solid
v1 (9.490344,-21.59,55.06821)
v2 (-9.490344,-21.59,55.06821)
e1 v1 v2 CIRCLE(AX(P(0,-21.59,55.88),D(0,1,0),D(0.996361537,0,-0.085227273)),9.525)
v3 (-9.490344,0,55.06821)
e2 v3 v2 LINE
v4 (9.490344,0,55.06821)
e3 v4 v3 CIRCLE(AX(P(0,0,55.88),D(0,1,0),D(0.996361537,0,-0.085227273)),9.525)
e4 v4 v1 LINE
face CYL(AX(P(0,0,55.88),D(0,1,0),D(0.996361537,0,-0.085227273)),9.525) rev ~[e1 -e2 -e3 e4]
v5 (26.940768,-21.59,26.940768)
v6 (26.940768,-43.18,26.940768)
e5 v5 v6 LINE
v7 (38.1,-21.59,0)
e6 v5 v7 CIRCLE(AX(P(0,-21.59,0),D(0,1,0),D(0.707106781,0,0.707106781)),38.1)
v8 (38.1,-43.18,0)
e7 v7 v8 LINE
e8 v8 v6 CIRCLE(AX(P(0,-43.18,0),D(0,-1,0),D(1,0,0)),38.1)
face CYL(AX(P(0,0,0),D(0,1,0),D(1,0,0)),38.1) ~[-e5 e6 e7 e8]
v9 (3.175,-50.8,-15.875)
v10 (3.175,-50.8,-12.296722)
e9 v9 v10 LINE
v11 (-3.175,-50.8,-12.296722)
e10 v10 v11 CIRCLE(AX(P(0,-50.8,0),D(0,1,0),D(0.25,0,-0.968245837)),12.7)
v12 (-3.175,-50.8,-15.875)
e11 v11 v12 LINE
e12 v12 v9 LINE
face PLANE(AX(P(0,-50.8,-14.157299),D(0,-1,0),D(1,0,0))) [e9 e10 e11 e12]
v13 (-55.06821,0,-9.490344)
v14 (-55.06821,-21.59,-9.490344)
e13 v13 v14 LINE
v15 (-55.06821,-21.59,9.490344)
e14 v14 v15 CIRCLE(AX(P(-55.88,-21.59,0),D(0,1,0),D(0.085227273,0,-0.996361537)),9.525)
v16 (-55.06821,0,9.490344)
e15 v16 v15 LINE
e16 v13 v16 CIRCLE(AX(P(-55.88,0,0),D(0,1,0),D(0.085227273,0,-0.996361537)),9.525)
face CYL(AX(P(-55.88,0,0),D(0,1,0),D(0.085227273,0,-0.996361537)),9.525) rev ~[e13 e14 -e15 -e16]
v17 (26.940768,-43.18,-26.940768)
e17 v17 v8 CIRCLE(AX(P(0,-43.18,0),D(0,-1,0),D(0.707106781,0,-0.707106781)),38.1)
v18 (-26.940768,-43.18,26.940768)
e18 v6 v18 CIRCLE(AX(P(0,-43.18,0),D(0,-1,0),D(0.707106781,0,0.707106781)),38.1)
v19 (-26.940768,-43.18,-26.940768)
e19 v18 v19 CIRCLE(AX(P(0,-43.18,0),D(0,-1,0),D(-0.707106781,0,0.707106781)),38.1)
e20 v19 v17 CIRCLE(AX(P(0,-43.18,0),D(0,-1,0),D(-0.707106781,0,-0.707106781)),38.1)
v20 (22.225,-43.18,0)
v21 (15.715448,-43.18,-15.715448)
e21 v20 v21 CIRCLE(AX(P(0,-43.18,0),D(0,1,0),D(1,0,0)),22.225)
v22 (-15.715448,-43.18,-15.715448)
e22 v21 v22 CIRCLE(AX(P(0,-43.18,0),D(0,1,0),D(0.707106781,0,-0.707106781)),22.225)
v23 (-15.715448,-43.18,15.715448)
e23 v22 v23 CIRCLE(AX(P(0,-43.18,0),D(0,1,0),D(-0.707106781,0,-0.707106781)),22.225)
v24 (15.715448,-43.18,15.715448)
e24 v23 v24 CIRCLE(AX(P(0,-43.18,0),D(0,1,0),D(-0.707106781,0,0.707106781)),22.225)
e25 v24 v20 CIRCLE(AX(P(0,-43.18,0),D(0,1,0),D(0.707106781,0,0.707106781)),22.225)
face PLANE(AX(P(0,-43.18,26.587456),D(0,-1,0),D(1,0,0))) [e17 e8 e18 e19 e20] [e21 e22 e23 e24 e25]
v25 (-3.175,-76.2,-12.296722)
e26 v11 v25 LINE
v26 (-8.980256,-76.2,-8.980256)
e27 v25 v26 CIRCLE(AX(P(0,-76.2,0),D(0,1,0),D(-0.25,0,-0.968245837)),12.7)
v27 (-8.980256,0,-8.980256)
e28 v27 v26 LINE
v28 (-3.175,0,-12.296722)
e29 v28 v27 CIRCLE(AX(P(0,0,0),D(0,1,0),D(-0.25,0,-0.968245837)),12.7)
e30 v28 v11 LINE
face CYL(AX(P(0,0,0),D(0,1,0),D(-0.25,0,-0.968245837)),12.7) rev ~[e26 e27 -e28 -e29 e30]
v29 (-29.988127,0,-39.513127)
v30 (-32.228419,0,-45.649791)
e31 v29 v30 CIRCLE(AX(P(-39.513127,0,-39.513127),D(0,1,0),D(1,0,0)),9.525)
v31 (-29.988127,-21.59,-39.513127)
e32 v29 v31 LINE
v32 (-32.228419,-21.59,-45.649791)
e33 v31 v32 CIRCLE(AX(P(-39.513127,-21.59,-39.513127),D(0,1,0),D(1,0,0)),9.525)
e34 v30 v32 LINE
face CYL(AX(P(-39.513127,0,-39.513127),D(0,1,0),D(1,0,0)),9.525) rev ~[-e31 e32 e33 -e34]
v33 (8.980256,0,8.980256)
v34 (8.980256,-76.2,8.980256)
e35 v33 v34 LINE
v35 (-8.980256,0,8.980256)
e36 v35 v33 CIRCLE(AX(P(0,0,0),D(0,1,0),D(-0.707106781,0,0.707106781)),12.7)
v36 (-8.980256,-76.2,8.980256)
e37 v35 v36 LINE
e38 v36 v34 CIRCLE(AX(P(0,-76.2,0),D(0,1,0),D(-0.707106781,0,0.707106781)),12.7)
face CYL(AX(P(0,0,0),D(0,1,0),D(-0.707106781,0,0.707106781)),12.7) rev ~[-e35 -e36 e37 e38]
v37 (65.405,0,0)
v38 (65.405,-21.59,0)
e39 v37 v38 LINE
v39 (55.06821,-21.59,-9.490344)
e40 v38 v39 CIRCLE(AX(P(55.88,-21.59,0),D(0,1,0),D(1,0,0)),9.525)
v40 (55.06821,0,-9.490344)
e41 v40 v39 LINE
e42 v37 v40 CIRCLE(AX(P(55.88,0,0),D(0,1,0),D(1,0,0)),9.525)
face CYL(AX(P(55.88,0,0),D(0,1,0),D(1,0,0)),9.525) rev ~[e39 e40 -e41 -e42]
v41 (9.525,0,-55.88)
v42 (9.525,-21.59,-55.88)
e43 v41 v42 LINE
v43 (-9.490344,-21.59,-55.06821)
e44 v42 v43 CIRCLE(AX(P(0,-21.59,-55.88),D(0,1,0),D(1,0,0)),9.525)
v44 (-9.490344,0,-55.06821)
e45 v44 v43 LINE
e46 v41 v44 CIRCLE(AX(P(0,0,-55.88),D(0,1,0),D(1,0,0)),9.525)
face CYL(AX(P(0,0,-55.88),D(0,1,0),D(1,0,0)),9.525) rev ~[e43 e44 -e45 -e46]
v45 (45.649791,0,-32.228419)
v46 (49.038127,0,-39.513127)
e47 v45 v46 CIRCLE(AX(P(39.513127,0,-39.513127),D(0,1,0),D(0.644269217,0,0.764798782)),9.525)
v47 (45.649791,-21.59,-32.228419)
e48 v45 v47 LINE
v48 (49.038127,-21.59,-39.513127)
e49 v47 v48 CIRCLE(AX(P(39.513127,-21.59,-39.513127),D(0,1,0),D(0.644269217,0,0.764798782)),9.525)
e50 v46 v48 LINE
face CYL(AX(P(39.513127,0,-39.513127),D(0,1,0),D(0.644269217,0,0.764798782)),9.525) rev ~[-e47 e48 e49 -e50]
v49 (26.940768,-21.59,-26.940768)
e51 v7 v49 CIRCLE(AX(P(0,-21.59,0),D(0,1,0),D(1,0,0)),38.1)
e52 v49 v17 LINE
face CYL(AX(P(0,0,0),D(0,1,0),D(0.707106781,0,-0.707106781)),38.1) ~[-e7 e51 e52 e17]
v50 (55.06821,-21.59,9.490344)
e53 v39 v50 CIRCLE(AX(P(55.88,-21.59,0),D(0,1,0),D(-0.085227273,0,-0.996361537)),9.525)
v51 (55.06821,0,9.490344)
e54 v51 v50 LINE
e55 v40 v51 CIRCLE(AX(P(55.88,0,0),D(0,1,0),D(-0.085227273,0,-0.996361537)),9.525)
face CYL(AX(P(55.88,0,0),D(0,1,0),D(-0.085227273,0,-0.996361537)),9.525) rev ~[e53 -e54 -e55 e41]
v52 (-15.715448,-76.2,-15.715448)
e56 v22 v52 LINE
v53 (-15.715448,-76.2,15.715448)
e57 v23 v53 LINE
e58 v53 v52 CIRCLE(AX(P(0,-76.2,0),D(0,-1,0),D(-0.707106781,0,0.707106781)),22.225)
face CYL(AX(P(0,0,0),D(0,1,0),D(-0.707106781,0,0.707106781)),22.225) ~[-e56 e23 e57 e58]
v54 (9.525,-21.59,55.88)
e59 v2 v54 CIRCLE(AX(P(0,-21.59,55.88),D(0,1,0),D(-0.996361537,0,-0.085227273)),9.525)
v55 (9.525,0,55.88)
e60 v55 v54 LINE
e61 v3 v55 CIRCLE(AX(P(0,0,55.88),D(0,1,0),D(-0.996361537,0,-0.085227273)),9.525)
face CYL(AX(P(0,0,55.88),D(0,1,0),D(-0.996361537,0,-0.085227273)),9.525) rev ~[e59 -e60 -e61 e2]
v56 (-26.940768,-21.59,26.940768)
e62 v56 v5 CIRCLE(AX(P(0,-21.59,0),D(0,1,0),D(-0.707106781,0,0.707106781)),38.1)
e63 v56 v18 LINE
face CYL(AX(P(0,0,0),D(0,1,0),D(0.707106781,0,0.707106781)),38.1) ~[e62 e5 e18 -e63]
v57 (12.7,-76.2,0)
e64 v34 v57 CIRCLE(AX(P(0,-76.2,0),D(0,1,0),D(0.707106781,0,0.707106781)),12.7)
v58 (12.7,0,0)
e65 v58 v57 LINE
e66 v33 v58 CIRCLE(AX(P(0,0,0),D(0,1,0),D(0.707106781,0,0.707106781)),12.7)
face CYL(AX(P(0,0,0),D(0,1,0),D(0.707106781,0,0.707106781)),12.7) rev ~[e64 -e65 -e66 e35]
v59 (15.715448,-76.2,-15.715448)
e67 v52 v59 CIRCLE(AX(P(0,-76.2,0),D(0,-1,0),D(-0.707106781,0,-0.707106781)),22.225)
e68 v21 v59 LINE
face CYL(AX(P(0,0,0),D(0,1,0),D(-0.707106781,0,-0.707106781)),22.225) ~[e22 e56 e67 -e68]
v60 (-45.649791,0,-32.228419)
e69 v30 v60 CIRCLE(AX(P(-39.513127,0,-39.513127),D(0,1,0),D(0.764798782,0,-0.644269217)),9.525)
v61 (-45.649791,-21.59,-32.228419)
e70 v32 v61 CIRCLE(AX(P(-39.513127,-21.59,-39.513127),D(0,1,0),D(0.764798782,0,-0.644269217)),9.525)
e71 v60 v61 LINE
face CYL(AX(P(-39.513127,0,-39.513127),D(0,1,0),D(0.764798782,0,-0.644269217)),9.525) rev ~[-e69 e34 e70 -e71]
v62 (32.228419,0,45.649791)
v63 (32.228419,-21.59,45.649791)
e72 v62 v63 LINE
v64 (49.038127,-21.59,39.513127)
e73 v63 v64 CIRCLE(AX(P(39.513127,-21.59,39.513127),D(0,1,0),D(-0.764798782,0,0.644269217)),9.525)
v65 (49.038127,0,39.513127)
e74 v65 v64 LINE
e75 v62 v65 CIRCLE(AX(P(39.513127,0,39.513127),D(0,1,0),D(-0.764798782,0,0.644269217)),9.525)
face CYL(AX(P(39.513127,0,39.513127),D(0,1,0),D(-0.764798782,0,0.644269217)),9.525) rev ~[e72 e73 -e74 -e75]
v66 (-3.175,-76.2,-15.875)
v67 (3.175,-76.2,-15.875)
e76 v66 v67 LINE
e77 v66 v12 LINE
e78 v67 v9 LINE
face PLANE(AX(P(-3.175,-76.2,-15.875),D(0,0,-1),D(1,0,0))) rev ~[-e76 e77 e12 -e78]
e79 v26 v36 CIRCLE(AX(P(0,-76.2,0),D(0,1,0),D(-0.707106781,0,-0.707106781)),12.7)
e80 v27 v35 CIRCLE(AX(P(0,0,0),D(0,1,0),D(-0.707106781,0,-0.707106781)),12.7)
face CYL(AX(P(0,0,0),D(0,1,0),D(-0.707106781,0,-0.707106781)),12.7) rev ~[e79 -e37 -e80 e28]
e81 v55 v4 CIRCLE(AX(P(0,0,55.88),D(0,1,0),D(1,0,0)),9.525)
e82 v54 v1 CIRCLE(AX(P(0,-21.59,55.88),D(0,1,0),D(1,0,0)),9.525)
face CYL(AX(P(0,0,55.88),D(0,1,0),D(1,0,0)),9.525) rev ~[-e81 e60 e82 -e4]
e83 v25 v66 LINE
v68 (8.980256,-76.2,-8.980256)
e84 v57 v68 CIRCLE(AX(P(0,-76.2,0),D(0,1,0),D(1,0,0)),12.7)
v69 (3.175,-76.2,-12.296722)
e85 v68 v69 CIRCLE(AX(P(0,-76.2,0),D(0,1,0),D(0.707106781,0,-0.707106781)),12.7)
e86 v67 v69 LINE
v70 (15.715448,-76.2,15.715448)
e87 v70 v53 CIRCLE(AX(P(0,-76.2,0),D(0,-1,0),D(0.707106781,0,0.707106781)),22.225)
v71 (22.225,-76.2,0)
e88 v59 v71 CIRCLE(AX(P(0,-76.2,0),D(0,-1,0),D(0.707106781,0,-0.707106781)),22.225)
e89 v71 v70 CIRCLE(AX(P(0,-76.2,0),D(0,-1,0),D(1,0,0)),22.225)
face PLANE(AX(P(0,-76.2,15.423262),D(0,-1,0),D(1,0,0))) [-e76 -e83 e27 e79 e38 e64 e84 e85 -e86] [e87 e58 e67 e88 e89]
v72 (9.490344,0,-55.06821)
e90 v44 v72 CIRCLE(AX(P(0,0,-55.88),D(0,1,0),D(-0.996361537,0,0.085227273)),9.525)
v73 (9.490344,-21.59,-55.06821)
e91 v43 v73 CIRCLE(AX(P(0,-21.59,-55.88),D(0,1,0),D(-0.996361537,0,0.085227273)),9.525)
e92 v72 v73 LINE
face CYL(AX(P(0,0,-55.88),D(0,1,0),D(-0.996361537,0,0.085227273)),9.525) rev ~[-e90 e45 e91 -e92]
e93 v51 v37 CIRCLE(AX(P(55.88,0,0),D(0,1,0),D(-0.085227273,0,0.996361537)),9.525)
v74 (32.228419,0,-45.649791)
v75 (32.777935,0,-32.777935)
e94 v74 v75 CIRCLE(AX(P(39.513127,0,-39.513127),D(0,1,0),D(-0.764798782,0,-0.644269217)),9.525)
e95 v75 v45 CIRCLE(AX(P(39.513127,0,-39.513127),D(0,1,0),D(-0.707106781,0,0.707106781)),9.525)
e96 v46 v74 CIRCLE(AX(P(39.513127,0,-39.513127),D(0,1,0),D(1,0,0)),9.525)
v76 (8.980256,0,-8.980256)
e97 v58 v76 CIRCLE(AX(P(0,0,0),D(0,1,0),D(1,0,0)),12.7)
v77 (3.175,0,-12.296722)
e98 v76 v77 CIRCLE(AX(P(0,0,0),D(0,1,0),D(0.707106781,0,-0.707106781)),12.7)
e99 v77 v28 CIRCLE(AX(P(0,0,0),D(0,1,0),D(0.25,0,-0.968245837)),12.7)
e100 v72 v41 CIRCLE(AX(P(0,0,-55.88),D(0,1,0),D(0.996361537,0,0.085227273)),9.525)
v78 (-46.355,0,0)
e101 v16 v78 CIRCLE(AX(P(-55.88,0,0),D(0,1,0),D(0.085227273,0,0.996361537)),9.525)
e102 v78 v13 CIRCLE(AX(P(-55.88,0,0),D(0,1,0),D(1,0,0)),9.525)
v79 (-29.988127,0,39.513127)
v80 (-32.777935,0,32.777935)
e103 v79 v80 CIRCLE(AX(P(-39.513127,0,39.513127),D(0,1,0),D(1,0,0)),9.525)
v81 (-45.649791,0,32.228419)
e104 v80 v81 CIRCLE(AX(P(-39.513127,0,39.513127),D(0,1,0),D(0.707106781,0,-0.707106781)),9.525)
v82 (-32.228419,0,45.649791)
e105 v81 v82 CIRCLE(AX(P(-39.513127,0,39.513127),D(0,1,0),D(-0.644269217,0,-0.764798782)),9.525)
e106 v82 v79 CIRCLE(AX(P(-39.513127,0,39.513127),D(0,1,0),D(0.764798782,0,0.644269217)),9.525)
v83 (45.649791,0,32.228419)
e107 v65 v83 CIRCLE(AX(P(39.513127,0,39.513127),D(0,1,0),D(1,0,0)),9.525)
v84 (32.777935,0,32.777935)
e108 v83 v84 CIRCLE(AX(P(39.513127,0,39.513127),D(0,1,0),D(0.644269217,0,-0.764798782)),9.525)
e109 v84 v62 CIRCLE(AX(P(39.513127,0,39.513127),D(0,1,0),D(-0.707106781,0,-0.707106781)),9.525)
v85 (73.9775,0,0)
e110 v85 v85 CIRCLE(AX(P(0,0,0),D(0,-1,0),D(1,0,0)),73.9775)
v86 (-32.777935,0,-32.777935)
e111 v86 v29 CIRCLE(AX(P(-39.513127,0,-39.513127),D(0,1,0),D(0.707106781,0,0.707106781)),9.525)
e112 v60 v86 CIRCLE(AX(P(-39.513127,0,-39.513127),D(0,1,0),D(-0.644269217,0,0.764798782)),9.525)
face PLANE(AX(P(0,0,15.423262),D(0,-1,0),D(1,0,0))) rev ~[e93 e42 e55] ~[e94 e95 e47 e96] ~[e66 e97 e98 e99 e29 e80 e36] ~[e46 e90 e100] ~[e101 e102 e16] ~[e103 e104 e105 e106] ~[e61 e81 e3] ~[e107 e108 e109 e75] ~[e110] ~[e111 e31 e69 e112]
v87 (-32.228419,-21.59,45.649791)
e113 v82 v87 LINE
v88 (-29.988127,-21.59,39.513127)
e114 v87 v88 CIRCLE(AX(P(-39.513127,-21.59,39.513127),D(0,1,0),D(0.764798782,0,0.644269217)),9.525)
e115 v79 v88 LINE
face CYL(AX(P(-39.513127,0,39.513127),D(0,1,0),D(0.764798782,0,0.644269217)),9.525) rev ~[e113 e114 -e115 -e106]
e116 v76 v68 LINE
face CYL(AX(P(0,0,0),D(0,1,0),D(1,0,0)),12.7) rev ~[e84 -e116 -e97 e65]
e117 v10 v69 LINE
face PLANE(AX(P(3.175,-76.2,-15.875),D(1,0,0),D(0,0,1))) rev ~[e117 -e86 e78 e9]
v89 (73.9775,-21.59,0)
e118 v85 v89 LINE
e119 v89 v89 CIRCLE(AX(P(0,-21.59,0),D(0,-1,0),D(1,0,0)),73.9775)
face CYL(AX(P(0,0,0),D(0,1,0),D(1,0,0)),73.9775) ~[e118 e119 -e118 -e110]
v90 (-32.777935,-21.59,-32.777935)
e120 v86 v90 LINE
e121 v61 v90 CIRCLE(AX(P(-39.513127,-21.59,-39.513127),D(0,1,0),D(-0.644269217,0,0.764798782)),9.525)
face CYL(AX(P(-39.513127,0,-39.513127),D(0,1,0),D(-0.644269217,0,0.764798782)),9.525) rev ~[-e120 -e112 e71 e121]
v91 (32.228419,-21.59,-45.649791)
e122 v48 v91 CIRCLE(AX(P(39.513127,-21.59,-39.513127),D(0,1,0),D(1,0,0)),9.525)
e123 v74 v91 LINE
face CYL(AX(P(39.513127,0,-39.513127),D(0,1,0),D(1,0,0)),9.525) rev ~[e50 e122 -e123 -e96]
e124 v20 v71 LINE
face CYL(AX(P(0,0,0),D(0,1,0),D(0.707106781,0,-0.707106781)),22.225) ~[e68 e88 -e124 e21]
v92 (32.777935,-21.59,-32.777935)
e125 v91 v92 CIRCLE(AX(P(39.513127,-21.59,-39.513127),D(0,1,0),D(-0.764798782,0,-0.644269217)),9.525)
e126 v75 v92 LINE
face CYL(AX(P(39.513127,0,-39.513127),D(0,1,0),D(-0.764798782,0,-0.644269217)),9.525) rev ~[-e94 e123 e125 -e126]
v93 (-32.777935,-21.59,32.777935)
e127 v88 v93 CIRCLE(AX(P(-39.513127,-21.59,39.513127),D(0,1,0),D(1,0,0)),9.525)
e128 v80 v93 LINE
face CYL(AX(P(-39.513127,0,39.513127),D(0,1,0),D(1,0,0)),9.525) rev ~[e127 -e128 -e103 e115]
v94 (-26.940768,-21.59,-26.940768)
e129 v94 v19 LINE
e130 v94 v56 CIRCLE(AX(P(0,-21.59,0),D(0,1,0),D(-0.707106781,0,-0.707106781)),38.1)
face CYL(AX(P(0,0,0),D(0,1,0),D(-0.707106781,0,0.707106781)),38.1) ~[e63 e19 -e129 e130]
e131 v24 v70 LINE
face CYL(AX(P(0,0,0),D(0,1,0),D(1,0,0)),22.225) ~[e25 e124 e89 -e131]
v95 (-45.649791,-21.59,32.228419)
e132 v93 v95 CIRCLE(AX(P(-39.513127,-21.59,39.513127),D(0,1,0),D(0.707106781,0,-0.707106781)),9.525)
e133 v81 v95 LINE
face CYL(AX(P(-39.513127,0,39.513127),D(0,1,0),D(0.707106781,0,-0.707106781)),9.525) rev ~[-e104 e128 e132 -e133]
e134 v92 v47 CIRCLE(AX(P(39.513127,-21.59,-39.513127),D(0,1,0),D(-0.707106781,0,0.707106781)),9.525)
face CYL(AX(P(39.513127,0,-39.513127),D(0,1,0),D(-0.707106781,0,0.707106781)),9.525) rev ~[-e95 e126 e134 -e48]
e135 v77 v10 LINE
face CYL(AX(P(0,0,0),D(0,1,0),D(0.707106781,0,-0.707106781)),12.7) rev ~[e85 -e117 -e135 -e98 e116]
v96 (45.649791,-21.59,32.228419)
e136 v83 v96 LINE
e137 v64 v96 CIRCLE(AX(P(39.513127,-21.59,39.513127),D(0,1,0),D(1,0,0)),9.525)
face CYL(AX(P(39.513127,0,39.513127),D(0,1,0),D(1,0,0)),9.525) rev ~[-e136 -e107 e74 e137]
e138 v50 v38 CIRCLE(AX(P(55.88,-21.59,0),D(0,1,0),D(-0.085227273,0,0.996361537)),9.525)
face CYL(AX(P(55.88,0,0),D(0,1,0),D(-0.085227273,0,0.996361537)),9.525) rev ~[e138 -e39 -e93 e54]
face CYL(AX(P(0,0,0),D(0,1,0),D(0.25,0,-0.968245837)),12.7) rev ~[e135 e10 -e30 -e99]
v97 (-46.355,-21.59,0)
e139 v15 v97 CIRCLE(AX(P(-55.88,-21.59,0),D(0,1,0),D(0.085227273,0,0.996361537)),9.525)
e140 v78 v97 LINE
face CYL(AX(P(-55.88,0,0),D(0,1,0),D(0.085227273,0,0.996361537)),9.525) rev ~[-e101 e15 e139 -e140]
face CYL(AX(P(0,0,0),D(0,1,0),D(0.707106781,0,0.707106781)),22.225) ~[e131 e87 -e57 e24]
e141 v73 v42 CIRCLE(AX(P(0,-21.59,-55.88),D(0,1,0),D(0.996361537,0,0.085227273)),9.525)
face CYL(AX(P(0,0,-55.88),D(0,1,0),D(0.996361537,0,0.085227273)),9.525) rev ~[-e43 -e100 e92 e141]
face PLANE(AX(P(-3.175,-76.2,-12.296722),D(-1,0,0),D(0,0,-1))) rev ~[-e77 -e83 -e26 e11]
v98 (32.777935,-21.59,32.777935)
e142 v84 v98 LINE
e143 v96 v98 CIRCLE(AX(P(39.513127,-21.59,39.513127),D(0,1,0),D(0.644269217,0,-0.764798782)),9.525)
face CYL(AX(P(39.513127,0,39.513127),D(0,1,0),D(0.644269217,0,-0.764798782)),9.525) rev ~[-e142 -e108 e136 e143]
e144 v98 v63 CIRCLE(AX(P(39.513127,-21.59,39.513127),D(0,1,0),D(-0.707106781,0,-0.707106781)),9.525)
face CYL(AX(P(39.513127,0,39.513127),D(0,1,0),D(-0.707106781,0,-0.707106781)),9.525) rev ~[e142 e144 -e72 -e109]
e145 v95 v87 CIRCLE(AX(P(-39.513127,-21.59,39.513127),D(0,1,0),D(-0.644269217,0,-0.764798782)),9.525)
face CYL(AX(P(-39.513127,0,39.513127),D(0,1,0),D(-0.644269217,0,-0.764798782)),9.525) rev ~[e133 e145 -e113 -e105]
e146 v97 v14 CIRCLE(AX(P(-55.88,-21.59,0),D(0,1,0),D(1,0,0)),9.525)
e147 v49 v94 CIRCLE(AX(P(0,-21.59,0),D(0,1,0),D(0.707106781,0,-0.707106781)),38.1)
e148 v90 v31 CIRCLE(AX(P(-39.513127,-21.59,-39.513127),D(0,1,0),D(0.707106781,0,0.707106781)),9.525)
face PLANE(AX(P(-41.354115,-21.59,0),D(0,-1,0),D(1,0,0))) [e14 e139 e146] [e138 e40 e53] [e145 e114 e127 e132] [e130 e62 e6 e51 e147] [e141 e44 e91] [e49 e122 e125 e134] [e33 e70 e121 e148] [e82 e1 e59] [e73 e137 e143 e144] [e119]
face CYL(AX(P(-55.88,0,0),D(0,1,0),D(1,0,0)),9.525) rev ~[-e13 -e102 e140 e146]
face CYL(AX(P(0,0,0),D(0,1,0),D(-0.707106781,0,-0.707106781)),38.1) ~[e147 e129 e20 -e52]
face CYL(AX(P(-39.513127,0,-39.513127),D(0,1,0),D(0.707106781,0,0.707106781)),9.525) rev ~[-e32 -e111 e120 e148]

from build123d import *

# Parameters (mm, degrees)
F0_R     = 73.9775
F1_DEPTH = 21.59
F2_DEPTH = 21.59
F3_DEPTH = 43.18
F4_DEPTH = 76.2
F6_DEPTH = 25.4


with BuildPart() as f1:
    # F0 (on Front) → F1 (new body)
    with BuildSketch(Plane.XZ):
        Circle(F0_R)
        with BuildLine():
            ThreePointArc((9.4903436379, 55.0682102273), (21.3843502006, 51.6263882767), (32.2284185374, 45.6497912216))
            ThreePointArc((32.2284185374, 45.6497912216), (42.7795299647, 48.4605419914), (49.0381269327, 39.5131269327))
            ThreePointArc((49.0381269327, 39.5131269327), (48.1496005288, 35.4960448046), (45.6497912216, 32.2284185374))
            ThreePointArc((45.6497912216, 32.2284185374), (51.6263882767, 21.3843502006), (55.0682102273, 9.4903436379))
            ThreePointArc((55.0682102273, 9.4903436379), (62.3217904116, 7.0163353179), (65.405, 0))
            ThreePointArc((65.405, 0), (62.3217904116, -7.0163353179), (55.0682102273, -9.4903436379))
            ThreePointArc((55.0682102273, -9.4903436379), (51.6263882767, -21.3843502006), (45.6497912216, -32.2284185374))
            ThreePointArc((45.6497912216, -32.2284185374), (48.1496005288, -35.4960448046), (49.0381269327, -39.5131269327))
            ThreePointArc((49.0381269327, -39.5131269327), (42.7795299647, -48.4605419914), (32.2284185374, -45.6497912216))
            ThreePointArc((32.2284185374, -45.6497912216), (21.3843502006, -51.6263882767), (9.4903436379, -55.0682102273))
            ThreePointArc((9.4903436379, -55.0682102273), (9.5163319654, -55.4737354007), (9.525, -55.88))
            ThreePointArc((9.525, -55.88), (-0.4062645993, -65.3963319654), (-9.4903436379, -55.0682102273))
            ThreePointArc((-9.4903436379, -55.0682102273), (-21.3843502006, -51.6263882767), (-32.2284185374, -45.6497912216))
            ThreePointArc((-32.2284185374, -45.6497912216), (-46.2483190235, -46.2483190235), (-45.6497912216, -32.2284185374))
            ThreePointArc((-45.6497912216, -32.2284185374), (-51.6263882767, -21.3843502006), (-55.0682102273, -9.4903436379))
            ThreePointArc((-55.0682102273, -9.4903436379), (-65.405, 0), (-55.0682102273, 9.4903436379))
            ThreePointArc((-55.0682102273, 9.4903436379), (-51.6263882767, 21.3843502006), (-45.6497912216, 32.2284185374))
            ThreePointArc((-45.6497912216, 32.2284185374), (-46.2483190235, 46.2483190235), (-32.2284185374, 45.6497912216))
            ThreePointArc((-32.2284185374, 45.6497912216), (-21.3843502006, 51.6263882767), (-9.4903436379, 55.0682102273))
            ThreePointArc((-9.4903436379, 55.0682102273), (-0.4062645993, 65.3963319654), (9.525, 55.88))
            ThreePointArc((9.525, 55.88), (9.5163319654, 55.4737354007), (9.4903436379, 55.0682102273))
        make_face(mode=Mode.SUBTRACT)
    extrude(amount=F1_DEPTH)

    # F0 (on Front) → F2 (join)
    with BuildSketch(Plane.XZ):
        with BuildLine():
            ThreePointArc((-26.9407683632, -26.9407683632), (-38.1, 0), (-26.9407683632, 26.9407683632))
            Line((-26.9407683632, 26.9407683632), (-32.7779348419, 32.7779348419))
            ThreePointArc((-32.7779348419, 32.7779348419), (-39.1068623334, 29.9967949673), (-45.6497912216, 32.2284185374))
            ThreePointArc((-45.6497912216, 32.2284185374), (-51.6263882767, 21.3843502006), (-55.0682102273, 9.4903436379))
            ThreePointArc((-55.0682102273, 9.4903436379), (-48.8636646821, 6.4417904116), (-46.355, 0))
            ThreePointArc((-46.355, 0), (-48.8636646821, -6.4417904116), (-55.0682102273, -9.4903436379))
            ThreePointArc((-55.0682102273, -9.4903436379), (-51.6263882767, -21.3843502006), (-45.6497912216, -32.2284185374))
            ThreePointArc((-45.6497912216, -32.2284185374), (-39.1068623334, -29.9967949673), (-32.7779348419, -32.7779348419))
            Line((-32.7779348419, -32.7779348419), (-26.9407683632, -26.9407683632))
        make_face()
        with BuildLine():
            ThreePointArc((-26.9407683632, 26.9407683632), (0, 38.1), (26.9407683632, 26.9407683632))
            Line((26.9407683632, 26.9407683632), (32.7779348419, 32.7779348419))
            ThreePointArc((32.7779348419, 32.7779348419), (29.9967949673, 39.1068623334), (32.2284185374, 45.6497912216))
            ThreePointArc((32.2284185374, 45.6497912216), (21.3843502006, 51.6263882767), (9.4903436379, 55.0682102273))
            ThreePointArc((9.4903436379, 55.0682102273), (0, 46.355), (-9.4903436379, 55.0682102273))
            ThreePointArc((-9.4903436379, 55.0682102273), (-21.3843502006, 51.6263882767), (-32.2284185374, 45.6497912216))
            ThreePointArc((-32.2284185374, 45.6497912216), (-30.565711874, 42.7795299647), (-29.9881269327, 39.5131269327))
            ThreePointArc((-29.9881269327, 39.5131269327), (-30.7131743855, 35.8680672394), (-32.7779348419, 32.7779348419))
            Line((-32.7779348419, 32.7779348419), (-26.9407683632, 26.9407683632))
        make_face()
        with BuildLine():
            Line((32.7779348419, 32.7779348419), (26.9407683632, 26.9407683632))
            ThreePointArc((26.9407683632, 26.9407683632), (35.1998101887, 14.5802387731), (38.1, 0))
            ThreePointArc((38.1, 0), (35.1998101887, -14.5802387731), (26.9407683632, -26.9407683632))
            Line((26.9407683632, -26.9407683632), (32.7779348419, -32.7779348419))
            ThreePointArc((32.7779348419, -32.7779348419), (39.1068623334, -29.9967949673), (45.6497912216, -32.2284185374))
            ThreePointArc((45.6497912216, -32.2284185374), (51.6263882767, -21.3843502006), (55.0682102273, -9.4903436379))
            ThreePointArc((55.0682102273, -9.4903436379), (46.355, 0), (55.0682102273, 9.4903436379))
            ThreePointArc((55.0682102273, 9.4903436379), (51.6263882767, 21.3843502006), (45.6497912216, 32.2284185374))
            ThreePointArc((45.6497912216, 32.2284185374), (39.1068623334, 29.9967949673), (32.7779348419, 32.7779348419))
        make_face()
        with BuildLine():
            Line((32.7779348419, -32.7779348419), (26.9407683632, -26.9407683632))
            ThreePointArc((26.9407683632, -26.9407683632), (0, -38.1), (-26.9407683632, -26.9407683632))
            Line((-26.9407683632, -26.9407683632), (-32.7779348419, -32.7779348419))
            ThreePointArc((-32.7779348419, -32.7779348419), (-30.7131743855, -35.8680672394), (-29.9881269327, -39.5131269327))
            ThreePointArc((-29.9881269327, -39.5131269327), (-30.565711874, -42.7795299647), (-32.2284185374, -45.6497912216))
            ThreePointArc((-32.2284185374, -45.6497912216), (-21.3843502006, -51.6263882767), (-9.4903436379, -55.0682102273))
            ThreePointArc((-9.4903436379, -55.0682102273), (0, -46.355), (9.4903436379, -55.0682102273))
            ThreePointArc((9.4903436379, -55.0682102273), (21.3843502006, -51.6263882767), (32.2284185374, -45.6497912216))
            ThreePointArc((32.2284185374, -45.6497912216), (29.9967949673, -39.1068623334), (32.7779348419, -32.7779348419))
        make_face()
    extrude(amount=F2_DEPTH)

    # F0 (on Front) → F3 (join)
    with BuildSketch(Plane.XZ):
        with BuildLine():
            ThreePointArc((-15.7154482119, 15.7154482119), (0, 22.225), (15.7154482119, 15.7154482119))
            Line((15.7154482119, 15.7154482119), (26.9407683632, 26.9407683632))
            ThreePointArc((26.9407683632, 26.9407683632), (0, 38.1), (-26.9407683632, 26.9407683632))
            Line((-26.9407683632, 26.9407683632), (-15.7154482119, 15.7154482119))
        make_face()
        with BuildLine():
            Line((26.9407683632, 26.9407683632), (15.7154482119, 15.7154482119))
            ThreePointArc((15.7154482119, 15.7154482119), (20.5332226101, 8.5051392843), (22.225, 0))
            ThreePointArc((22.225, 0), (20.5332226101, -8.5051392843), (15.7154482119, -15.7154482119))
            Line((15.7154482119, -15.7154482119), (26.9407683632, -26.9407683632))
            ThreePointArc((26.9407683632, -26.9407683632), (35.1998101887, -14.5802387731), (38.1, 0))
            ThreePointArc((38.1, 0), (35.1998101887, 14.5802387731), (26.9407683632, 26.9407683632))
        make_face()
        with BuildLine():
            Line((26.9407683632, -26.9407683632), (15.7154482119, -15.7154482119))
            ThreePointArc((15.7154482119, -15.7154482119), (0, -22.225), (-15.7154482119, -15.7154482119))
            Line((-15.7154482119, -15.7154482119), (-26.9407683632, -26.9407683632))
            ThreePointArc((-26.9407683632, -26.9407683632), (0, -38.1), (26.9407683632, -26.9407683632))
        make_face()
        with BuildLine():
            ThreePointArc((-15.7154482119, -15.7154482119), (-22.225, 0), (-15.7154482119, 15.7154482119))
            Line((-15.7154482119, 15.7154482119), (-26.9407683632, 26.9407683632))
            ThreePointArc((-26.9407683632, 26.9407683632), (-38.1, 0), (-26.9407683632, -26.9407683632))
            Line((-26.9407683632, -26.9407683632), (-15.7154482119, -15.7154482119))
        make_face()
    extrude(amount=F3_DEPTH)

    # F0 (on Front) → F4 (join)
    with BuildSketch(Plane.XZ):
        with BuildLine():
            ThreePointArc((-8.9802561211, 8.9802561211), (0, 12.7), (8.9802561211, 8.9802561211))
            Line((8.9802561211, 8.9802561211), (15.7154482119, 15.7154482119))
            ThreePointArc((15.7154482119, 15.7154482119), (0, 22.225), (-15.7154482119, 15.7154482119))
            Line((-15.7154482119, 15.7154482119), (-8.9802561211, 8.9802561211))
        make_face()
        with BuildLine():
            ThreePointArc((8.9802561211, 8.9802561211), (11.7332700629, 4.860079591), (12.7, 0))
            ThreePointArc((12.7, 0), (11.7332700629, -4.860079591), (8.9802561211, -8.9802561211))
            Line((8.9802561211, -8.9802561211), (15.7154482119, -15.7154482119))
            ThreePointArc((15.7154482119, -15.7154482119), (20.5332226101, -8.5051392843), (22.225, 0))
            ThreePointArc((22.225, 0), (20.5332226101, 8.5051392843), (15.7154482119, 15.7154482119))
            Line((15.7154482119, 15.7154482119), (8.9802561211, 8.9802561211))
        make_face()
        with BuildLine():
            Line((15.7154482119, -15.7154482119), (8.9802561211, -8.9802561211))
            ThreePointArc((8.9802561211, -8.9802561211), (6.2997856733, -11.0273614464), (3.175, -12.2967221242))
            Line((3.175, -12.2967221242), (3.175, -15.875))
            Line((3.175, -15.875), (-3.175, -15.875))
            Line((-3.175, -15.875), (-3.175, -12.2967221242))
            ThreePointArc((-3.175, -12.2967221242), (-6.2997856733, -11.0273614464), (-8.9802561211, -8.9802561211))
            Line((-8.9802561211, -8.9802561211), (-15.7154482119, -15.7154482119))
            ThreePointArc((-15.7154482119, -15.7154482119), (0, -22.225), (15.7154482119, -15.7154482119))
        make_face()
        with BuildLine():
            ThreePointArc((-8.9802561211, -8.9802561211), (-12.7, 0), (-8.9802561211, 8.9802561211))
            Line((-8.9802561211, 8.9802561211), (-15.7154482119, 15.7154482119))
            ThreePointArc((-15.7154482119, 15.7154482119), (-22.225, 0), (-15.7154482119, -15.7154482119))
            Line((-15.7154482119, -15.7154482119), (-8.9802561211, -8.9802561211))
        make_face()
        with BuildLine():
            Line((3.175, -15.875), (3.175, -12.2967221242))
            ThreePointArc((3.175, -12.2967221242), (0, -12.7), (-3.175, -12.2967221242))
            Line((-3.175, -12.2967221242), (-3.175, -15.875))
            Line((-3.175, -15.875), (3.175, -15.875))
        make_face()
    extrude(amount=F4_DEPTH)

    # F5 (on face) → F6 (cut)
    with BuildSketch(Plane.XZ.offset(76.2)):
        with BuildLine():
            Line((-3.175, -15.875), (3.175, -15.875))
            Line((3.175, -15.875), (3.175, -12.2967221242))
            ThreePointArc((3.175, -12.2967221242), (0, -12.7), (-3.175, -12.2967221242))
            Line((-3.175, -12.2967221242), (-3.175, -15.875))
        make_face()
    extrude(amount=-F6_DEPTH, mode=Mode.SUBTRACT)


solid = f1.part
